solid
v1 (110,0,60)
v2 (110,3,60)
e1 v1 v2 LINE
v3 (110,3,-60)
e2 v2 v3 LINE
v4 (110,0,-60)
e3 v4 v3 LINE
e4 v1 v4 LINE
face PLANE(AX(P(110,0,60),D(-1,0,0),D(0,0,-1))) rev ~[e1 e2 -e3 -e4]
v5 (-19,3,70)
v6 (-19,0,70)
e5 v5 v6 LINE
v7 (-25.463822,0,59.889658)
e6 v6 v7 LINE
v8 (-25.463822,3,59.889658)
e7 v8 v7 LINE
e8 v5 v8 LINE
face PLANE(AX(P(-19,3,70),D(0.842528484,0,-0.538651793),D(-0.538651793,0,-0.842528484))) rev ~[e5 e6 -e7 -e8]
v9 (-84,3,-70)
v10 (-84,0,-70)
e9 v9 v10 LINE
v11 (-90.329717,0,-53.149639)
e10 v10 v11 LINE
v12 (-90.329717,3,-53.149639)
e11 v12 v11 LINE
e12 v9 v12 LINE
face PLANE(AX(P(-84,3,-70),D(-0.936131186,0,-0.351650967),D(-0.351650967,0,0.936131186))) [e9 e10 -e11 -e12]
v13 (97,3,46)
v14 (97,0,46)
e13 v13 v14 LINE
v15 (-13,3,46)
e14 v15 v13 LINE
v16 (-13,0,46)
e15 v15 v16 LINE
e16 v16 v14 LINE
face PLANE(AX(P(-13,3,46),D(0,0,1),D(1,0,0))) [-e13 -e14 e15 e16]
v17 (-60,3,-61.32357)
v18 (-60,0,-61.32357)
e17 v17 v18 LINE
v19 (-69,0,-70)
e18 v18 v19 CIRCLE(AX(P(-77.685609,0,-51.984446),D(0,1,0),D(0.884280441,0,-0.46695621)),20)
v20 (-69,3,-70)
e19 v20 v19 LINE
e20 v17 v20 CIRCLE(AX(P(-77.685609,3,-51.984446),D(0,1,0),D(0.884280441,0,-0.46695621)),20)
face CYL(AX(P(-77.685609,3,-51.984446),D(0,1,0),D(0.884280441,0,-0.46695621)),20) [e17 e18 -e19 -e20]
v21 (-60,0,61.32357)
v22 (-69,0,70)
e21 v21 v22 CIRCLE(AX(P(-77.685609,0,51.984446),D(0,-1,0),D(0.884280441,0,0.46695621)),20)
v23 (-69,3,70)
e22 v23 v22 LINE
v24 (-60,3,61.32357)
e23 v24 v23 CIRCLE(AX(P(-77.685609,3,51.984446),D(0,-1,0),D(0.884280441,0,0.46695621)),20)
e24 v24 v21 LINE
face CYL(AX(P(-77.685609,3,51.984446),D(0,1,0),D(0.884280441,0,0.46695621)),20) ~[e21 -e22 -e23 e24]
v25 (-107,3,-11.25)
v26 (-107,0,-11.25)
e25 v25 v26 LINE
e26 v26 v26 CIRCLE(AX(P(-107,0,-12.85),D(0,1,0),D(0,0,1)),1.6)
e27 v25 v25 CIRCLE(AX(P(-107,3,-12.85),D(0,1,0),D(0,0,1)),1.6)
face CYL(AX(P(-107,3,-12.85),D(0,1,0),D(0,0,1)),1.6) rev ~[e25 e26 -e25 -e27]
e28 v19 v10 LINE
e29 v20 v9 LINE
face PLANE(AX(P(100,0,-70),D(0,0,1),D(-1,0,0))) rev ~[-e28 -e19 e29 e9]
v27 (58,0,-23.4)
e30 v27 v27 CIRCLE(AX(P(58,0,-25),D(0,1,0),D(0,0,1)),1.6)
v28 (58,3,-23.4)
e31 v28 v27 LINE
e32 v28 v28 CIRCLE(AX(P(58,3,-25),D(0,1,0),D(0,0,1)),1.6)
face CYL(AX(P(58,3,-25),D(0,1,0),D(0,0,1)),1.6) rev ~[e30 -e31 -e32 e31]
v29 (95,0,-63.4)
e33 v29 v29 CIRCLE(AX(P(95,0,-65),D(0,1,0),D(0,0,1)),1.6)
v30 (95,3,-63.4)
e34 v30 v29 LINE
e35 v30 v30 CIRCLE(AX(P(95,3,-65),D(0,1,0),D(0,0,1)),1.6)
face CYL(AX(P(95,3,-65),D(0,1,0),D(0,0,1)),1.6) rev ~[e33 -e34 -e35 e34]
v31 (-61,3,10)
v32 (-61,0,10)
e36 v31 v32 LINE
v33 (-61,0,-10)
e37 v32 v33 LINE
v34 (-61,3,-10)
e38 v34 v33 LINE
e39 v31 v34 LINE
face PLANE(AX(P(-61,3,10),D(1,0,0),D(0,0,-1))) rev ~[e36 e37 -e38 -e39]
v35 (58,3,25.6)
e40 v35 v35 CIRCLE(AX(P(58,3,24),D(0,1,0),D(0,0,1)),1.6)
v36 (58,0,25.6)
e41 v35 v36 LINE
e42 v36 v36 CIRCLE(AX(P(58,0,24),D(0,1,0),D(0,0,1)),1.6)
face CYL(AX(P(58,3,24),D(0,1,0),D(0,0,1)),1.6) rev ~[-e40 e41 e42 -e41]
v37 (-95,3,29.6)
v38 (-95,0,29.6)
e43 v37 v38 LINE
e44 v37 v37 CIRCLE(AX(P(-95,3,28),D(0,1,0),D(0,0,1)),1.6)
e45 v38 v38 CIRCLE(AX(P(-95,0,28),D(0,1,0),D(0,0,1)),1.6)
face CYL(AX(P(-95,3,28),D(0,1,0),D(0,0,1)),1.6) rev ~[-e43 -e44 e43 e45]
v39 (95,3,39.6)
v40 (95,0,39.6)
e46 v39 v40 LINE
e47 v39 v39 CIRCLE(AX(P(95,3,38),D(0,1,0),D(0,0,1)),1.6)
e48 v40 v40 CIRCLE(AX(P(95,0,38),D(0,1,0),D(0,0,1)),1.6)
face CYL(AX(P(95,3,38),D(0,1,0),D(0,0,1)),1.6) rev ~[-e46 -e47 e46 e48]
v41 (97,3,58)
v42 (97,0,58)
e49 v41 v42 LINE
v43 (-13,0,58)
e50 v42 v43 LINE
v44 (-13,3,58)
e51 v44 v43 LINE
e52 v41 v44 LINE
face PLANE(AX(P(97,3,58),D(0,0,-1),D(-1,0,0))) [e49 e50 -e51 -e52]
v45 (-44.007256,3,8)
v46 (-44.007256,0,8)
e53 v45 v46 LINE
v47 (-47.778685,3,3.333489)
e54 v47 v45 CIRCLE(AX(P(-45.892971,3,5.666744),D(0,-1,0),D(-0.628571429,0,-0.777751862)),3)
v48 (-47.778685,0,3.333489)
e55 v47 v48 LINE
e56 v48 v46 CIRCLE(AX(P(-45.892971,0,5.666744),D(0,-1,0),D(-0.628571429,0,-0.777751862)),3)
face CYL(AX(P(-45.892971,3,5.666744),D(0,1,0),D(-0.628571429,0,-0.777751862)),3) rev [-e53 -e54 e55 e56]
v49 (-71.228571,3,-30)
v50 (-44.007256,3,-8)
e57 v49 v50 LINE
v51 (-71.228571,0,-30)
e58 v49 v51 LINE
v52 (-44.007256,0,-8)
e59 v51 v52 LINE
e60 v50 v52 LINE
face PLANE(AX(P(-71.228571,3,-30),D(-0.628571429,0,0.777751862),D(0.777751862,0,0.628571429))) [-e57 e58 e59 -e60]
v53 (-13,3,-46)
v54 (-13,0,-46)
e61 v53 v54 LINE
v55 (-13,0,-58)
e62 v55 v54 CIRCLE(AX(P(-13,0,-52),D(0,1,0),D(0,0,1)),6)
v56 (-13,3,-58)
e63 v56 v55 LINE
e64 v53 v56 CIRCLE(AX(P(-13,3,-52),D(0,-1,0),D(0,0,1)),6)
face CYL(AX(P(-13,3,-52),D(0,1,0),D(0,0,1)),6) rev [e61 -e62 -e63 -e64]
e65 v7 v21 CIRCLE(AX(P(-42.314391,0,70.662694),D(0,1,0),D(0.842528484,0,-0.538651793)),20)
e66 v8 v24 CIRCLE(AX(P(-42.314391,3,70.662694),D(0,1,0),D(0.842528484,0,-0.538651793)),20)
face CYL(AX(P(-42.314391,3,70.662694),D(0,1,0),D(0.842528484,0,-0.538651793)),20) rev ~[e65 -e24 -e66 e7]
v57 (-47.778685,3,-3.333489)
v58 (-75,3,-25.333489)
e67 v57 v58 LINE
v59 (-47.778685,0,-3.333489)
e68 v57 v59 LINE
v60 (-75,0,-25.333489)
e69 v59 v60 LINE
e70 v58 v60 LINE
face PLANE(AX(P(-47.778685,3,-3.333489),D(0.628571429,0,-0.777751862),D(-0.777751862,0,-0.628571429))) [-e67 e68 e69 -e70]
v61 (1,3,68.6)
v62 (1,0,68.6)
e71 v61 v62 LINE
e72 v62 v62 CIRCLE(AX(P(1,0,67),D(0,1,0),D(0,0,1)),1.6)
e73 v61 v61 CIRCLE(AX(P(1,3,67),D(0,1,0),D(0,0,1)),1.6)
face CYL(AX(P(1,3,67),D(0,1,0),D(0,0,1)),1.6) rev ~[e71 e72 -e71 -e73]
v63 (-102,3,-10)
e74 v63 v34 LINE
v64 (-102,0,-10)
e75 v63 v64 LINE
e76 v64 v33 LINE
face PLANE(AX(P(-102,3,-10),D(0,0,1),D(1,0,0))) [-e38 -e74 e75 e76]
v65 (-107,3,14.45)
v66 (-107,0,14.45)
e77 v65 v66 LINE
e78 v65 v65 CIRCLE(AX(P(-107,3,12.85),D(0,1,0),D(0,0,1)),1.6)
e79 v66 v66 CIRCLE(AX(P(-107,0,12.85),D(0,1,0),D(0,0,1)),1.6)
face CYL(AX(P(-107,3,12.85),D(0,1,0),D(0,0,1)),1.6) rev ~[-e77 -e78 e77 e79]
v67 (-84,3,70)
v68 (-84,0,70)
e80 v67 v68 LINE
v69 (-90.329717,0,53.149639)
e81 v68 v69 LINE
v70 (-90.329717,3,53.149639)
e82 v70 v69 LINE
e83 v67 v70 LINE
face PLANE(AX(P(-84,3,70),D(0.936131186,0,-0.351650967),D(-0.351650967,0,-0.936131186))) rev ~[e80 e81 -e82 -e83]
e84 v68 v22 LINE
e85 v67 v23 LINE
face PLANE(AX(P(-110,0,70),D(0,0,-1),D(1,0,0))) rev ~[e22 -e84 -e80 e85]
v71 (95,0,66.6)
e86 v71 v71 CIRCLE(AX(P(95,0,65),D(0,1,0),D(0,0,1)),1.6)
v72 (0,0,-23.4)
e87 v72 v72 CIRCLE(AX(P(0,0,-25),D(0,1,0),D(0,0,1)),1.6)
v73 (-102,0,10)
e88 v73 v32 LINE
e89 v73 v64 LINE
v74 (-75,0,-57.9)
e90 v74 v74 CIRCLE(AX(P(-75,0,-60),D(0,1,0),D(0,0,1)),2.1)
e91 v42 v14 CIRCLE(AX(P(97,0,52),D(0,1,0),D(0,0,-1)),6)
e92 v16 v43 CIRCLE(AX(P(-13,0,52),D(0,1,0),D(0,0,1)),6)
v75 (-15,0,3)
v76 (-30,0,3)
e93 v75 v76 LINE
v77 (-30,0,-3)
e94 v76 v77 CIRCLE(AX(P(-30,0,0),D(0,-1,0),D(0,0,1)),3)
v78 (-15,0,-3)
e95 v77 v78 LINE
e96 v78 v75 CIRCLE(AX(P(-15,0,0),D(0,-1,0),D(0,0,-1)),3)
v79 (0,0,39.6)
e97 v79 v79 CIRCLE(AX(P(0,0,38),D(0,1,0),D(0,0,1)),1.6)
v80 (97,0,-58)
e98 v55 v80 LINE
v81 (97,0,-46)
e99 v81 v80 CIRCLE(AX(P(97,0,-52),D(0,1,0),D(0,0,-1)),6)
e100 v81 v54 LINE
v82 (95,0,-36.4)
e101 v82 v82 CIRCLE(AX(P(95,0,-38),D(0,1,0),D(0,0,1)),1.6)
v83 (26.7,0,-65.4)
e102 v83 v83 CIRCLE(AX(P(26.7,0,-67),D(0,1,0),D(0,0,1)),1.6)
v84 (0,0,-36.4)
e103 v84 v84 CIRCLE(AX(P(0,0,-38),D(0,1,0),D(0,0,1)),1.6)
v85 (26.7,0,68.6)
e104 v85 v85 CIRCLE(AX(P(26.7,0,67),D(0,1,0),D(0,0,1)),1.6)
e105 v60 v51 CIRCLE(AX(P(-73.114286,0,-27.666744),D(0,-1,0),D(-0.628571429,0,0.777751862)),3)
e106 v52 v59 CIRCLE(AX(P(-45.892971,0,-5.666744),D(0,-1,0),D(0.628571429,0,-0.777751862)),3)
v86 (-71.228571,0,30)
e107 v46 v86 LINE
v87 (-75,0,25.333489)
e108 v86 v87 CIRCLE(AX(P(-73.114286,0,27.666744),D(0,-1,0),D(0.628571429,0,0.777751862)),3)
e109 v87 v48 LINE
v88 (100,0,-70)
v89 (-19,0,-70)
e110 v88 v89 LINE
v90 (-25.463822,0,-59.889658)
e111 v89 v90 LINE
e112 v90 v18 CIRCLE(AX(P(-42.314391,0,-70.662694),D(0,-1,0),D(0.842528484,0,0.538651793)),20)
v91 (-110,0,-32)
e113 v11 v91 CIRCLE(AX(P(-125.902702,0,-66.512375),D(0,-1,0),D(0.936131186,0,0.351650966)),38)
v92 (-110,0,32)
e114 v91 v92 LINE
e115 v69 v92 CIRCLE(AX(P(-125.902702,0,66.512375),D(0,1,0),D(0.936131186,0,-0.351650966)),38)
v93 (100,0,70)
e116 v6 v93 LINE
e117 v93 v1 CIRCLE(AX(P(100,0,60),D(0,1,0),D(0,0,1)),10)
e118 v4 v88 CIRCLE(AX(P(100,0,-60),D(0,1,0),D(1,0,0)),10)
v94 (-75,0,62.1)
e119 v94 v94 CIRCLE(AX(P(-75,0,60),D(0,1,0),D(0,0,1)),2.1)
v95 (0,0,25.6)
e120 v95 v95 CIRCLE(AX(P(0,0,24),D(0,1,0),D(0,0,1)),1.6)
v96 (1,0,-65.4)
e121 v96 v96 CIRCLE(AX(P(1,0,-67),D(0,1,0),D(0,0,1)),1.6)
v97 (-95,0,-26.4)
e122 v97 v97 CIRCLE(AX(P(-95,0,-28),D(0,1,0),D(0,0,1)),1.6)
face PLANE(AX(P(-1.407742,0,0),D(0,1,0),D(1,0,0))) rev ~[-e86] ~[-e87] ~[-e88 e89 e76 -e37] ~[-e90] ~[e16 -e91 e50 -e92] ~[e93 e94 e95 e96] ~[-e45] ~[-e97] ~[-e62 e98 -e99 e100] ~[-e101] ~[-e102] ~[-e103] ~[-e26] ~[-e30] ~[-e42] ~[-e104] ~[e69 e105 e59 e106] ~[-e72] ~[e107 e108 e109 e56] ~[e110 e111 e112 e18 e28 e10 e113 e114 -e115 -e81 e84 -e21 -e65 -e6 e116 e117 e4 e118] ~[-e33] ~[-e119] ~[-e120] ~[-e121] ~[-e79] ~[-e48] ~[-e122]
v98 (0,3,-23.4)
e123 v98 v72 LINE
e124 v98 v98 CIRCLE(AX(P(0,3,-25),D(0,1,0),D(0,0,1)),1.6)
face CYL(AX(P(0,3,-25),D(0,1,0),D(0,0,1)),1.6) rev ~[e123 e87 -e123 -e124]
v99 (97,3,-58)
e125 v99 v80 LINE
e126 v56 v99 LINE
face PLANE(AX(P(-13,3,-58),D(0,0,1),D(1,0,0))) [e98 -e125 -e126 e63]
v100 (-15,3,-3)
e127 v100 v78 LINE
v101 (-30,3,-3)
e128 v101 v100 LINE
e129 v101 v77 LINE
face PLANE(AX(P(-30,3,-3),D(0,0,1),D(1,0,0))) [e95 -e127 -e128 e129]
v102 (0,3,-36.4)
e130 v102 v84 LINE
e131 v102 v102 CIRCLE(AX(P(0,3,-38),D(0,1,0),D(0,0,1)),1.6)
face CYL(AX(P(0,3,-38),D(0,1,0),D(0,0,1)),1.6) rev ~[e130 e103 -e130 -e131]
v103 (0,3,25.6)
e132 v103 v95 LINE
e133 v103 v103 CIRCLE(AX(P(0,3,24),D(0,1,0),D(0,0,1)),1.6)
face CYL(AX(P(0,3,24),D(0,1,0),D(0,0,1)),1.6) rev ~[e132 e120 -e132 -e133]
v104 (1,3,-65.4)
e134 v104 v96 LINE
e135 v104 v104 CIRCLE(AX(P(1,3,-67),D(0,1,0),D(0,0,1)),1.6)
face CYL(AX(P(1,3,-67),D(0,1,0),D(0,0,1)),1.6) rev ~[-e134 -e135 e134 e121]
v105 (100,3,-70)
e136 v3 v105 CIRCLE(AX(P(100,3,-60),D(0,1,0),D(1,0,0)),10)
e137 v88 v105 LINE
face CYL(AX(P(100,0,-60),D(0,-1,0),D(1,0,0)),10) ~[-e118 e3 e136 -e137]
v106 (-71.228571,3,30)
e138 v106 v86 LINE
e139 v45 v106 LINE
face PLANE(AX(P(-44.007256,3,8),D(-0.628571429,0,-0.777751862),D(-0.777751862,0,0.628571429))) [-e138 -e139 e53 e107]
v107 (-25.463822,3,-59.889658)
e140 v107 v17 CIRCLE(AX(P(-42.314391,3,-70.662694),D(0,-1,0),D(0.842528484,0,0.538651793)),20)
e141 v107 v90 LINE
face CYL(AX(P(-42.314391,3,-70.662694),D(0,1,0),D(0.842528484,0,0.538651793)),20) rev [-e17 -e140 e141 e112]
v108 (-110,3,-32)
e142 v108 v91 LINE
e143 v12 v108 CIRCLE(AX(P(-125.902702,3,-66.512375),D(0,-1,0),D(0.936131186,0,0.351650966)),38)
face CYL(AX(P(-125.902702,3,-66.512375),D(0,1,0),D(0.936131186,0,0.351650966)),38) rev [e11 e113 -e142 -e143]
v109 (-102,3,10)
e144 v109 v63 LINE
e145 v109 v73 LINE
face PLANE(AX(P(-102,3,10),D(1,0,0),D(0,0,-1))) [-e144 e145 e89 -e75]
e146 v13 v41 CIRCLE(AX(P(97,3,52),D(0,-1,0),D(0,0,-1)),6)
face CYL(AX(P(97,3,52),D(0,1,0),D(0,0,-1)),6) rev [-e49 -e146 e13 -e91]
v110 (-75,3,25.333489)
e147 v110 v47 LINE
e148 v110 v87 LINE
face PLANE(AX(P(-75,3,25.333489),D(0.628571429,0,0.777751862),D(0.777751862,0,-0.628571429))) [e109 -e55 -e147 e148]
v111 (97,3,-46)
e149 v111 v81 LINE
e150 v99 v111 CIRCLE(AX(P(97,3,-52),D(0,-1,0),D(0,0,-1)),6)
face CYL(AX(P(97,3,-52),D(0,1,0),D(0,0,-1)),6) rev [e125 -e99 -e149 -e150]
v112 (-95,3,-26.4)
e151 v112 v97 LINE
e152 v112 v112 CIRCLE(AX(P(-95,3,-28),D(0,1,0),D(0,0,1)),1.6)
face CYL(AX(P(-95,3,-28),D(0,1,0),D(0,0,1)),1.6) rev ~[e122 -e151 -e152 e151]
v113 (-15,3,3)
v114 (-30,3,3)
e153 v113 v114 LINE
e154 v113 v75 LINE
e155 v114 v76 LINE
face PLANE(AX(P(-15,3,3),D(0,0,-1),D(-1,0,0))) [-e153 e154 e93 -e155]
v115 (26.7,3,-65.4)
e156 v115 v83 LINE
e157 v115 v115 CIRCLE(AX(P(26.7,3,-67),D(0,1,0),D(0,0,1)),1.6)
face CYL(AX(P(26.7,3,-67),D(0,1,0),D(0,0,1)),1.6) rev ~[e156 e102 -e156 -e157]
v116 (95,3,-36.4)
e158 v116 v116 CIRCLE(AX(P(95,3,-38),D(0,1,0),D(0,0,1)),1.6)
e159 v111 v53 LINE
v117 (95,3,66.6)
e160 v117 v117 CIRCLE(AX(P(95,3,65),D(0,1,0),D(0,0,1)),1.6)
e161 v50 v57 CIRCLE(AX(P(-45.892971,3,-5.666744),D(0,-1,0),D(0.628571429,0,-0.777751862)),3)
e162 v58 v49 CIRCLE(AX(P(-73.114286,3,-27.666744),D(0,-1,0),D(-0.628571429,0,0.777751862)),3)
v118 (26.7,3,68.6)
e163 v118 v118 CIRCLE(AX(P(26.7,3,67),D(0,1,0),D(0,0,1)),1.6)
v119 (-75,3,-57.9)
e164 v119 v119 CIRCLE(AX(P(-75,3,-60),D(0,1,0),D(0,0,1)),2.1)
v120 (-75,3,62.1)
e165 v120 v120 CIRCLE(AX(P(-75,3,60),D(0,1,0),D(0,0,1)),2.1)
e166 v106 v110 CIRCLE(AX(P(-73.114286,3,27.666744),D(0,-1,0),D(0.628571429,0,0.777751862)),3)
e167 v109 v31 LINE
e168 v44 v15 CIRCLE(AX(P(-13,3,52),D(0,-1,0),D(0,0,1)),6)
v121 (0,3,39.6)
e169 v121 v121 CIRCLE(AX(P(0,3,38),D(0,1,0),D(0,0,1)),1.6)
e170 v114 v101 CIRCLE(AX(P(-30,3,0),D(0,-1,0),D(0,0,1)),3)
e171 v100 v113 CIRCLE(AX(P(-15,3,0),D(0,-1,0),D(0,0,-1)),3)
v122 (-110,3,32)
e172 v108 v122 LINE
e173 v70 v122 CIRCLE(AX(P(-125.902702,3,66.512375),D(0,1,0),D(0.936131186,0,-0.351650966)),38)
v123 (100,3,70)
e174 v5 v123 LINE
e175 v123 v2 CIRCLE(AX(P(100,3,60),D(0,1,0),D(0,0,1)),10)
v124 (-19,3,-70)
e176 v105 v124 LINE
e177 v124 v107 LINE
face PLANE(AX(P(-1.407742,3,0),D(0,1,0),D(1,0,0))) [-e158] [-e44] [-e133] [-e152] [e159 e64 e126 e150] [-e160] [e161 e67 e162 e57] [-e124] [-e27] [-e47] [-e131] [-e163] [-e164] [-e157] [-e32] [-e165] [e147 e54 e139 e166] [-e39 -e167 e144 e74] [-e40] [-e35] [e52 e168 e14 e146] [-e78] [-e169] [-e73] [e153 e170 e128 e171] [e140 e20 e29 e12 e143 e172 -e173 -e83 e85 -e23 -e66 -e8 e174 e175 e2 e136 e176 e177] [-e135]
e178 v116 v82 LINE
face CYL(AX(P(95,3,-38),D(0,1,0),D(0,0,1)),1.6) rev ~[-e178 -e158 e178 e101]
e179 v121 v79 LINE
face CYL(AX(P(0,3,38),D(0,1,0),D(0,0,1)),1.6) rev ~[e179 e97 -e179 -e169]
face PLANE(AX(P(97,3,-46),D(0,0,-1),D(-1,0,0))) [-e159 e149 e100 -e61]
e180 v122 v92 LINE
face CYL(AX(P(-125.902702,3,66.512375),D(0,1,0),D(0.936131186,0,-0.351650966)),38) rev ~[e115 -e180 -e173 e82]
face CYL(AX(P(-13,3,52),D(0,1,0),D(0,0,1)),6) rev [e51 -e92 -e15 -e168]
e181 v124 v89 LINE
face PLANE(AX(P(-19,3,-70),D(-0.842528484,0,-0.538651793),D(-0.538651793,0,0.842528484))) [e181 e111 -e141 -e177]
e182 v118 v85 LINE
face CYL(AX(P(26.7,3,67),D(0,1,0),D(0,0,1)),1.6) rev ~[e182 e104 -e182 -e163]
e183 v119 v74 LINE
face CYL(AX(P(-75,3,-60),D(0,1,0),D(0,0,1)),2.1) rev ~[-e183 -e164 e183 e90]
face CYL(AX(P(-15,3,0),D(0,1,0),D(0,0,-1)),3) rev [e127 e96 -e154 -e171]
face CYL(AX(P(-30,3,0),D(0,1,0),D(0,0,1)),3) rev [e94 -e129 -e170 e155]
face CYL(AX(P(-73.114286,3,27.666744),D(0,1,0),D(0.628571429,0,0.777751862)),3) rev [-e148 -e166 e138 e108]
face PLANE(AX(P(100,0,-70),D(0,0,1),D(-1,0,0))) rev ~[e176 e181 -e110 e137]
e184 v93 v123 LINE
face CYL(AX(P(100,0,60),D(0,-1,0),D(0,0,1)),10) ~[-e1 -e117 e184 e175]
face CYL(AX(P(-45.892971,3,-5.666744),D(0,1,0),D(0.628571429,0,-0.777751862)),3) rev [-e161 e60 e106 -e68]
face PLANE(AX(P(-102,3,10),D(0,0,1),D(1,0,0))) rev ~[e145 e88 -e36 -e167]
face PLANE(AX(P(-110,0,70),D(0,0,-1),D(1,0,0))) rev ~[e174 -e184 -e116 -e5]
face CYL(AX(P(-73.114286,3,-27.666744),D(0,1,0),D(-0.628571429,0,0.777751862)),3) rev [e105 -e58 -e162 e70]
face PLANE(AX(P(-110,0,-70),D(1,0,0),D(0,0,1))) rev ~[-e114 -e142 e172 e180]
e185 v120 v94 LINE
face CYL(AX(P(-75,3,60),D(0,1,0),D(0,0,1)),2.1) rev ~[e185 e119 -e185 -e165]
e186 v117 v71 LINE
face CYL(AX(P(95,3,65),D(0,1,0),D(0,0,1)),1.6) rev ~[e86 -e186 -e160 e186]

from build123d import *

# Parameters (mm, degrees)
Y_KSEKLIK_EKSTR_ZYON3_DEPTH = 3
KES_EKSTR_ZYON10_DEPTH      = 3
KES_EKSTR_ZYON11_DEPTH      = 3
KES_EKSTR_ZYON14_DEPTH      = 3
KES_EKSTR_ZYON15_DEPTH      = 3
KES_EKSTR_ZYON16_DEPTH      = 3
KES_EKSTR_ZYON17_DEPTH      = 3
KES_EKSTR_ZYON18_DEPTH      = 3
IZIM28_R                    = 1.6
KES_EKSTR_ZYON19_DEPTH      = 3
IZIM29_R                    = 1.6
KES_EKSTR_ZYON20_DEPTH      = 3
IZIM30_R                    = 1.6
KES_EKSTR_ZYON21_DEPTH      = 3
IZIM31_W                    = 41
IZIM31_H                    = 20
KES_EKSTR_ZYON22_DEPTH      = 10
IZIM32_R                    = 1.6
KES_EKSTR_ZYON23_DEPTH      = 10
KES_EKSTR_ZYON24_DEPTH      = 10
IZIM34_R                    = 2.1
KES_EKSTR_ZYON25_DEPTH      = 3
IZIM35_R                    = 1.6
KES_EKSTR_ZYON26_DEPTH      = 45
IZIM36_R                    = 1.6
KES_EKSTR_ZYON27_DEPTH      = 45


with BuildPart() as part:
    # Çizim16 → Yükseklik-Ekstrüzyon3 (new body)
    with BuildSketch(Plane(origin=(0, 0, 0), x_dir=(1, 0, 0), z_dir=(0, 1, 0))):
        with BuildLine():
            Line((-110, -70), (100, -70))
            ThreePointArc((100, -70), (107.071067812, -67.071067812), (110, -60))
            Line((110, -60), (110, 60))
            ThreePointArc((110, 60), (107.071067812, 67.071067812), (100, 70))
            Line((100, 70), (-110, 70))
            Line((-110, 70), (-110, -70))
        make_face()
    extrude(amount=Y_KSEKLIK_EKSTR_ZYON3_DEPTH)

    # Çizim18 → Kes-Ekstrüzyon10 (cut)
    with BuildSketch(Plane(origin=(0, 3, 0), x_dir=(1, 0, 0), z_dir=(0, 1, 0))):
        with BuildLine():
            Line((-19, 70), (-25.463821511, 59.889658192))
            ThreePointArc((-25.463821511, 59.889658192), (-43.144058736, 50.67991016), (-60, 61.323569832))
            ThreePointArc((-60, 61.323569832), (-63.804672609, 66.383043129), (-69, 70))
            Line((-69, 70), (-19, 70))
        make_face()
    extrude(amount=-KES_EKSTR_ZYON10_DEPTH, mode=Mode.SUBTRACT)

    # Çizim19 → Kes-Ekstrüzyon11 (cut)
    with BuildSketch(Plane(origin=(0, 3, 0), x_dir=(1, 0, 0), z_dir=(0, 1, 0))):
        with BuildLine():
            Line((-19, -70), (-25.463821511, -59.889658192))
            ThreePointArc((-25.463821511, -59.889658192), (-43.144058736, -50.67991016), (-60, -61.323569832))
            ThreePointArc((-60, -61.323569832), (-63.804672609, -66.383043129), (-69, -70))
            Line((-69, -70), (-19, -70))
        make_face()
    extrude(amount=-KES_EKSTR_ZYON11_DEPTH, mode=Mode.SUBTRACT)

    # Çizim23 → Kes-Ekstrüzyon14 (cut)
    with BuildSketch(Plane(origin=(0, 3, 0), x_dir=(1, 0, 0), z_dir=(0, 1, 0))):
        with BuildLine():
            Line((-84, -70), (-90.329717397, -53.149638649))
            ThreePointArc((-90.329717397, -53.149638649), (-98.077113424, -40.633105793), (-110, -32))
            Line((-110, -32), (-110, -70))
            Line((-110, -70), (-84, -70))
        make_face()
    extrude(amount=-KES_EKSTR_ZYON14_DEPTH, mode=Mode.SUBTRACT)

    # Çizim24 → Kes-Ekstrüzyon15 (cut)
    with BuildSketch(Plane(origin=(0, 3, 0), x_dir=(1, 0, 0), z_dir=(0, 1, 0))):
        with BuildLine():
            Line((-84, 70), (-90.329717397, 53.149638649))
            ThreePointArc((-90.329717397, 53.149638649), (-98.077113424, 40.633105793), (-110, 32))
            Line((-110, 32), (-110, 70))
            Line((-110, 70), (-84, 70))
        make_face()
    extrude(amount=-KES_EKSTR_ZYON15_DEPTH, mode=Mode.SUBTRACT)

    # Çizim25 → Kes-Ekstrüzyon16 (cut)
    with BuildSketch(Plane(origin=(0, 3, 0), x_dir=(1, 0, 0), z_dir=(0, 1, 0))):
        with BuildLine():
            Line((-44.007256251, -8), (-71.228571429, -30))
            ThreePointArc((-71.228571429, -30), (-75.447541301, -29.552458699), (-75, -25.333488827))
            Line((-75, -25.333488827), (-47.778684822, -3.333488827))
            ThreePointArc((-47.778684822, -3.333488827), (-43.55971495, -3.781030128), (-44.007256251, -8))
        make_face()
    extrude(amount=-KES_EKSTR_ZYON16_DEPTH, mode=Mode.SUBTRACT)

    # Çizim26 → Kes-Ekstrüzyon17 (cut)
    with BuildSketch(Plane(origin=(0, 3, 0), x_dir=(1, 0, 0), z_dir=(0, 1, 0))):
        with BuildLine():
            Line((-71.228571429, 30), (-44.007256251, 8))
            ThreePointArc((-44.007256251, 8), (-43.55971495, 3.781030128), (-47.778684822, 3.333488827))
            Line((-47.778684822, 3.333488827), (-75, 25.333488827))
            ThreePointArc((-75, 25.333488827), (-75.447541301, 29.552458699), (-71.228571429, 30))
        make_face()
    extrude(amount=-KES_EKSTR_ZYON17_DEPTH, mode=Mode.SUBTRACT)

    # Çizim27 → Kes-Ekstrüzyon18 (cut)
    with BuildSketch(Plane(origin=(0, 3, 0), x_dir=(1, 0, 0), z_dir=(0, 1, 0))):
        with BuildLine():
            Line((-15, -3), (-30, -3))
            ThreePointArc((-30, -3), (-33, 0), (-30, 3))
            Line((-30, 3), (-15, 3))
            ThreePointArc((-15, 3), (-12, 0), (-15, -3))
        make_face()
    extrude(amount=-KES_EKSTR_ZYON18_DEPTH, mode=Mode.SUBTRACT)

    # Çizim28 → Kes-Ekstrüzyon19 (cut)
    with BuildSketch(Plane(origin=(0, 3, 0), x_dir=(1, 0, 0), z_dir=(0, 1, 0))):
        with Locations(Location((1, -67, 0), (0, 0, 270))):
            Circle(IZIM28_R)
        with Locations(Location((26.7, -67, 0), (0, 0, 270))):
            Circle(IZIM28_R)
    extrude(amount=-KES_EKSTR_ZYON19_DEPTH, mode=Mode.SUBTRACT)

    # Çizim29 → Kes-Ekstrüzyon20 (cut)
    with BuildSketch(Plane(origin=(0, 3, 0), x_dir=(1, 0, 0), z_dir=(0, 1, 0))):
        with Locations(Location((-107, 12.85, 0), (0, 0, 270))):
            Circle(IZIM29_R)
        with Locations(Location((-107, -12.85, 0), (0, 0, 270))):
            Circle(IZIM29_R)
    extrude(amount=-KES_EKSTR_ZYON20_DEPTH, mode=Mode.SUBTRACT)

    # Çizim30 → Kes-Ekstrüzyon21 (cut)
    with BuildSketch(Plane(origin=(0, 3, 0), x_dir=(1, 0, 0), z_dir=(0, 1, 0))):
        with Locations(Location((1, 67, 0), (0, 0, 270))):
            Circle(IZIM30_R)
        with Locations(Location((26.7, 67, 0), (0, 0, 270))):
            Circle(IZIM30_R)
    extrude(amount=-KES_EKSTR_ZYON21_DEPTH, mode=Mode.SUBTRACT)

    # Çizim31 → Kes-Ekstrüzyon22 (cut)
    with BuildSketch(Plane(origin=(0, 3, 0), x_dir=(1, 0, 0), z_dir=(0, 1, 0))):
        with Locations((-81.5, 0)):
            Rectangle(IZIM31_W, IZIM31_H)
    extrude(amount=-KES_EKSTR_ZYON22_DEPTH, mode=Mode.SUBTRACT)

    # Çizim32 → Kes-Ekstrüzyon23 (cut)
    with BuildSketch(Plane(origin=(0, 3, 0), x_dir=(1, 0, 0), z_dir=(0, 1, 0))):
        with Locations(Location((95, -65, 0), (0, 0, 270))):
            Circle(IZIM32_R)
        with Locations(Location((95, 65, 0), (0, 0, 270))):
            Circle(IZIM32_R)
        with Locations(Location((-95, -28, 0), (0, 0, 270))):
            Circle(IZIM32_R)
        with Locations(Location((-95, 28, 0), (0, 0, 270))):
            Circle(IZIM32_R)
    extrude(amount=-KES_EKSTR_ZYON23_DEPTH, mode=Mode.SUBTRACT)

    # Çizim33 → Kes-Ekstrüzyon24 (cut)
    with BuildSketch(Plane(origin=(0, 3, 0), x_dir=(1, 0, 0), z_dir=(0, 1, 0))):
        with BuildLine():
            Line((97, 46), (-13, 46))
            ThreePointArc((-13, 46), (-19, 52), (-13, 58))
            Line((-13, 58), (97, 58))
            ThreePointArc((97, 58), (103, 52), (97, 46))
        make_face()
        with BuildLine():
            Line((-13, -46), (97, -46))
            ThreePointArc((97, -46), (103, -52), (97, -58))
            Line((97, -58), (-13, -58))
            ThreePointArc((-13, -58), (-19, -52), (-13, -46))
        make_face()
    extrude(amount=-KES_EKSTR_ZYON24_DEPTH, mode=Mode.SUBTRACT)

    # Çizim34 → Kes-Ekstrüzyon25 (cut)
    with BuildSketch(Plane(origin=(0, 3, 0), x_dir=(1, 0, 0), z_dir=(0, 1, 0))):
        with Locations(Location((-75, -60, 0), (0, 0, 270))):
            Circle(IZIM34_R)
        with Locations(Location((-75, 60, 0), (0, 0, 270))):
            Circle(IZIM34_R)
    extrude(amount=-KES_EKSTR_ZYON25_DEPTH, mode=Mode.SUBTRACT)

    # Çizim35 → Kes-Ekstrüzyon26 (cut)
    with BuildSketch(Plane(origin=(0, 3, 0), x_dir=(1, 0, 0), z_dir=(0, 1, 0))):
        with Locations(Location((95, -38, 0), (0, 0, 270))):
            Circle(IZIM35_R)
        with Locations(Location((95, 38, 0), (0, 0, 270))):
            Circle(IZIM35_R)
        with Locations(Location((0, 38, 0), (0, 0, 270))):
            Circle(IZIM35_R)
        with Locations(Location((0, -38, 0), (0, 0, 270))):
            Circle(IZIM35_R)
    extrude(amount=-KES_EKSTR_ZYON26_DEPTH, mode=Mode.SUBTRACT)

    # Çizim36 → Kes-Ekstrüzyon27 (cut)
    with BuildSketch(Plane(origin=(0, 3, 0), x_dir=(1, 0, 0), z_dir=(0, 1, 0))):
        with Locations(Location((0, 25, 0), (0, 0, 270))):
            Circle(IZIM36_R)
        with Locations(Location((58, 25, 0), (0, 0, 270))):
            Circle(IZIM36_R)
        with Locations(Location((0, -24, 0), (0, 0, 270))):
            Circle(IZIM36_R)
        with Locations(Location((58, -24, 0), (0, 0, 270))):
            Circle(IZIM36_R)
    extrude(amount=-KES_EKSTR_ZYON27_DEPTH, mode=Mode.SUBTRACT)


solid = part.part
